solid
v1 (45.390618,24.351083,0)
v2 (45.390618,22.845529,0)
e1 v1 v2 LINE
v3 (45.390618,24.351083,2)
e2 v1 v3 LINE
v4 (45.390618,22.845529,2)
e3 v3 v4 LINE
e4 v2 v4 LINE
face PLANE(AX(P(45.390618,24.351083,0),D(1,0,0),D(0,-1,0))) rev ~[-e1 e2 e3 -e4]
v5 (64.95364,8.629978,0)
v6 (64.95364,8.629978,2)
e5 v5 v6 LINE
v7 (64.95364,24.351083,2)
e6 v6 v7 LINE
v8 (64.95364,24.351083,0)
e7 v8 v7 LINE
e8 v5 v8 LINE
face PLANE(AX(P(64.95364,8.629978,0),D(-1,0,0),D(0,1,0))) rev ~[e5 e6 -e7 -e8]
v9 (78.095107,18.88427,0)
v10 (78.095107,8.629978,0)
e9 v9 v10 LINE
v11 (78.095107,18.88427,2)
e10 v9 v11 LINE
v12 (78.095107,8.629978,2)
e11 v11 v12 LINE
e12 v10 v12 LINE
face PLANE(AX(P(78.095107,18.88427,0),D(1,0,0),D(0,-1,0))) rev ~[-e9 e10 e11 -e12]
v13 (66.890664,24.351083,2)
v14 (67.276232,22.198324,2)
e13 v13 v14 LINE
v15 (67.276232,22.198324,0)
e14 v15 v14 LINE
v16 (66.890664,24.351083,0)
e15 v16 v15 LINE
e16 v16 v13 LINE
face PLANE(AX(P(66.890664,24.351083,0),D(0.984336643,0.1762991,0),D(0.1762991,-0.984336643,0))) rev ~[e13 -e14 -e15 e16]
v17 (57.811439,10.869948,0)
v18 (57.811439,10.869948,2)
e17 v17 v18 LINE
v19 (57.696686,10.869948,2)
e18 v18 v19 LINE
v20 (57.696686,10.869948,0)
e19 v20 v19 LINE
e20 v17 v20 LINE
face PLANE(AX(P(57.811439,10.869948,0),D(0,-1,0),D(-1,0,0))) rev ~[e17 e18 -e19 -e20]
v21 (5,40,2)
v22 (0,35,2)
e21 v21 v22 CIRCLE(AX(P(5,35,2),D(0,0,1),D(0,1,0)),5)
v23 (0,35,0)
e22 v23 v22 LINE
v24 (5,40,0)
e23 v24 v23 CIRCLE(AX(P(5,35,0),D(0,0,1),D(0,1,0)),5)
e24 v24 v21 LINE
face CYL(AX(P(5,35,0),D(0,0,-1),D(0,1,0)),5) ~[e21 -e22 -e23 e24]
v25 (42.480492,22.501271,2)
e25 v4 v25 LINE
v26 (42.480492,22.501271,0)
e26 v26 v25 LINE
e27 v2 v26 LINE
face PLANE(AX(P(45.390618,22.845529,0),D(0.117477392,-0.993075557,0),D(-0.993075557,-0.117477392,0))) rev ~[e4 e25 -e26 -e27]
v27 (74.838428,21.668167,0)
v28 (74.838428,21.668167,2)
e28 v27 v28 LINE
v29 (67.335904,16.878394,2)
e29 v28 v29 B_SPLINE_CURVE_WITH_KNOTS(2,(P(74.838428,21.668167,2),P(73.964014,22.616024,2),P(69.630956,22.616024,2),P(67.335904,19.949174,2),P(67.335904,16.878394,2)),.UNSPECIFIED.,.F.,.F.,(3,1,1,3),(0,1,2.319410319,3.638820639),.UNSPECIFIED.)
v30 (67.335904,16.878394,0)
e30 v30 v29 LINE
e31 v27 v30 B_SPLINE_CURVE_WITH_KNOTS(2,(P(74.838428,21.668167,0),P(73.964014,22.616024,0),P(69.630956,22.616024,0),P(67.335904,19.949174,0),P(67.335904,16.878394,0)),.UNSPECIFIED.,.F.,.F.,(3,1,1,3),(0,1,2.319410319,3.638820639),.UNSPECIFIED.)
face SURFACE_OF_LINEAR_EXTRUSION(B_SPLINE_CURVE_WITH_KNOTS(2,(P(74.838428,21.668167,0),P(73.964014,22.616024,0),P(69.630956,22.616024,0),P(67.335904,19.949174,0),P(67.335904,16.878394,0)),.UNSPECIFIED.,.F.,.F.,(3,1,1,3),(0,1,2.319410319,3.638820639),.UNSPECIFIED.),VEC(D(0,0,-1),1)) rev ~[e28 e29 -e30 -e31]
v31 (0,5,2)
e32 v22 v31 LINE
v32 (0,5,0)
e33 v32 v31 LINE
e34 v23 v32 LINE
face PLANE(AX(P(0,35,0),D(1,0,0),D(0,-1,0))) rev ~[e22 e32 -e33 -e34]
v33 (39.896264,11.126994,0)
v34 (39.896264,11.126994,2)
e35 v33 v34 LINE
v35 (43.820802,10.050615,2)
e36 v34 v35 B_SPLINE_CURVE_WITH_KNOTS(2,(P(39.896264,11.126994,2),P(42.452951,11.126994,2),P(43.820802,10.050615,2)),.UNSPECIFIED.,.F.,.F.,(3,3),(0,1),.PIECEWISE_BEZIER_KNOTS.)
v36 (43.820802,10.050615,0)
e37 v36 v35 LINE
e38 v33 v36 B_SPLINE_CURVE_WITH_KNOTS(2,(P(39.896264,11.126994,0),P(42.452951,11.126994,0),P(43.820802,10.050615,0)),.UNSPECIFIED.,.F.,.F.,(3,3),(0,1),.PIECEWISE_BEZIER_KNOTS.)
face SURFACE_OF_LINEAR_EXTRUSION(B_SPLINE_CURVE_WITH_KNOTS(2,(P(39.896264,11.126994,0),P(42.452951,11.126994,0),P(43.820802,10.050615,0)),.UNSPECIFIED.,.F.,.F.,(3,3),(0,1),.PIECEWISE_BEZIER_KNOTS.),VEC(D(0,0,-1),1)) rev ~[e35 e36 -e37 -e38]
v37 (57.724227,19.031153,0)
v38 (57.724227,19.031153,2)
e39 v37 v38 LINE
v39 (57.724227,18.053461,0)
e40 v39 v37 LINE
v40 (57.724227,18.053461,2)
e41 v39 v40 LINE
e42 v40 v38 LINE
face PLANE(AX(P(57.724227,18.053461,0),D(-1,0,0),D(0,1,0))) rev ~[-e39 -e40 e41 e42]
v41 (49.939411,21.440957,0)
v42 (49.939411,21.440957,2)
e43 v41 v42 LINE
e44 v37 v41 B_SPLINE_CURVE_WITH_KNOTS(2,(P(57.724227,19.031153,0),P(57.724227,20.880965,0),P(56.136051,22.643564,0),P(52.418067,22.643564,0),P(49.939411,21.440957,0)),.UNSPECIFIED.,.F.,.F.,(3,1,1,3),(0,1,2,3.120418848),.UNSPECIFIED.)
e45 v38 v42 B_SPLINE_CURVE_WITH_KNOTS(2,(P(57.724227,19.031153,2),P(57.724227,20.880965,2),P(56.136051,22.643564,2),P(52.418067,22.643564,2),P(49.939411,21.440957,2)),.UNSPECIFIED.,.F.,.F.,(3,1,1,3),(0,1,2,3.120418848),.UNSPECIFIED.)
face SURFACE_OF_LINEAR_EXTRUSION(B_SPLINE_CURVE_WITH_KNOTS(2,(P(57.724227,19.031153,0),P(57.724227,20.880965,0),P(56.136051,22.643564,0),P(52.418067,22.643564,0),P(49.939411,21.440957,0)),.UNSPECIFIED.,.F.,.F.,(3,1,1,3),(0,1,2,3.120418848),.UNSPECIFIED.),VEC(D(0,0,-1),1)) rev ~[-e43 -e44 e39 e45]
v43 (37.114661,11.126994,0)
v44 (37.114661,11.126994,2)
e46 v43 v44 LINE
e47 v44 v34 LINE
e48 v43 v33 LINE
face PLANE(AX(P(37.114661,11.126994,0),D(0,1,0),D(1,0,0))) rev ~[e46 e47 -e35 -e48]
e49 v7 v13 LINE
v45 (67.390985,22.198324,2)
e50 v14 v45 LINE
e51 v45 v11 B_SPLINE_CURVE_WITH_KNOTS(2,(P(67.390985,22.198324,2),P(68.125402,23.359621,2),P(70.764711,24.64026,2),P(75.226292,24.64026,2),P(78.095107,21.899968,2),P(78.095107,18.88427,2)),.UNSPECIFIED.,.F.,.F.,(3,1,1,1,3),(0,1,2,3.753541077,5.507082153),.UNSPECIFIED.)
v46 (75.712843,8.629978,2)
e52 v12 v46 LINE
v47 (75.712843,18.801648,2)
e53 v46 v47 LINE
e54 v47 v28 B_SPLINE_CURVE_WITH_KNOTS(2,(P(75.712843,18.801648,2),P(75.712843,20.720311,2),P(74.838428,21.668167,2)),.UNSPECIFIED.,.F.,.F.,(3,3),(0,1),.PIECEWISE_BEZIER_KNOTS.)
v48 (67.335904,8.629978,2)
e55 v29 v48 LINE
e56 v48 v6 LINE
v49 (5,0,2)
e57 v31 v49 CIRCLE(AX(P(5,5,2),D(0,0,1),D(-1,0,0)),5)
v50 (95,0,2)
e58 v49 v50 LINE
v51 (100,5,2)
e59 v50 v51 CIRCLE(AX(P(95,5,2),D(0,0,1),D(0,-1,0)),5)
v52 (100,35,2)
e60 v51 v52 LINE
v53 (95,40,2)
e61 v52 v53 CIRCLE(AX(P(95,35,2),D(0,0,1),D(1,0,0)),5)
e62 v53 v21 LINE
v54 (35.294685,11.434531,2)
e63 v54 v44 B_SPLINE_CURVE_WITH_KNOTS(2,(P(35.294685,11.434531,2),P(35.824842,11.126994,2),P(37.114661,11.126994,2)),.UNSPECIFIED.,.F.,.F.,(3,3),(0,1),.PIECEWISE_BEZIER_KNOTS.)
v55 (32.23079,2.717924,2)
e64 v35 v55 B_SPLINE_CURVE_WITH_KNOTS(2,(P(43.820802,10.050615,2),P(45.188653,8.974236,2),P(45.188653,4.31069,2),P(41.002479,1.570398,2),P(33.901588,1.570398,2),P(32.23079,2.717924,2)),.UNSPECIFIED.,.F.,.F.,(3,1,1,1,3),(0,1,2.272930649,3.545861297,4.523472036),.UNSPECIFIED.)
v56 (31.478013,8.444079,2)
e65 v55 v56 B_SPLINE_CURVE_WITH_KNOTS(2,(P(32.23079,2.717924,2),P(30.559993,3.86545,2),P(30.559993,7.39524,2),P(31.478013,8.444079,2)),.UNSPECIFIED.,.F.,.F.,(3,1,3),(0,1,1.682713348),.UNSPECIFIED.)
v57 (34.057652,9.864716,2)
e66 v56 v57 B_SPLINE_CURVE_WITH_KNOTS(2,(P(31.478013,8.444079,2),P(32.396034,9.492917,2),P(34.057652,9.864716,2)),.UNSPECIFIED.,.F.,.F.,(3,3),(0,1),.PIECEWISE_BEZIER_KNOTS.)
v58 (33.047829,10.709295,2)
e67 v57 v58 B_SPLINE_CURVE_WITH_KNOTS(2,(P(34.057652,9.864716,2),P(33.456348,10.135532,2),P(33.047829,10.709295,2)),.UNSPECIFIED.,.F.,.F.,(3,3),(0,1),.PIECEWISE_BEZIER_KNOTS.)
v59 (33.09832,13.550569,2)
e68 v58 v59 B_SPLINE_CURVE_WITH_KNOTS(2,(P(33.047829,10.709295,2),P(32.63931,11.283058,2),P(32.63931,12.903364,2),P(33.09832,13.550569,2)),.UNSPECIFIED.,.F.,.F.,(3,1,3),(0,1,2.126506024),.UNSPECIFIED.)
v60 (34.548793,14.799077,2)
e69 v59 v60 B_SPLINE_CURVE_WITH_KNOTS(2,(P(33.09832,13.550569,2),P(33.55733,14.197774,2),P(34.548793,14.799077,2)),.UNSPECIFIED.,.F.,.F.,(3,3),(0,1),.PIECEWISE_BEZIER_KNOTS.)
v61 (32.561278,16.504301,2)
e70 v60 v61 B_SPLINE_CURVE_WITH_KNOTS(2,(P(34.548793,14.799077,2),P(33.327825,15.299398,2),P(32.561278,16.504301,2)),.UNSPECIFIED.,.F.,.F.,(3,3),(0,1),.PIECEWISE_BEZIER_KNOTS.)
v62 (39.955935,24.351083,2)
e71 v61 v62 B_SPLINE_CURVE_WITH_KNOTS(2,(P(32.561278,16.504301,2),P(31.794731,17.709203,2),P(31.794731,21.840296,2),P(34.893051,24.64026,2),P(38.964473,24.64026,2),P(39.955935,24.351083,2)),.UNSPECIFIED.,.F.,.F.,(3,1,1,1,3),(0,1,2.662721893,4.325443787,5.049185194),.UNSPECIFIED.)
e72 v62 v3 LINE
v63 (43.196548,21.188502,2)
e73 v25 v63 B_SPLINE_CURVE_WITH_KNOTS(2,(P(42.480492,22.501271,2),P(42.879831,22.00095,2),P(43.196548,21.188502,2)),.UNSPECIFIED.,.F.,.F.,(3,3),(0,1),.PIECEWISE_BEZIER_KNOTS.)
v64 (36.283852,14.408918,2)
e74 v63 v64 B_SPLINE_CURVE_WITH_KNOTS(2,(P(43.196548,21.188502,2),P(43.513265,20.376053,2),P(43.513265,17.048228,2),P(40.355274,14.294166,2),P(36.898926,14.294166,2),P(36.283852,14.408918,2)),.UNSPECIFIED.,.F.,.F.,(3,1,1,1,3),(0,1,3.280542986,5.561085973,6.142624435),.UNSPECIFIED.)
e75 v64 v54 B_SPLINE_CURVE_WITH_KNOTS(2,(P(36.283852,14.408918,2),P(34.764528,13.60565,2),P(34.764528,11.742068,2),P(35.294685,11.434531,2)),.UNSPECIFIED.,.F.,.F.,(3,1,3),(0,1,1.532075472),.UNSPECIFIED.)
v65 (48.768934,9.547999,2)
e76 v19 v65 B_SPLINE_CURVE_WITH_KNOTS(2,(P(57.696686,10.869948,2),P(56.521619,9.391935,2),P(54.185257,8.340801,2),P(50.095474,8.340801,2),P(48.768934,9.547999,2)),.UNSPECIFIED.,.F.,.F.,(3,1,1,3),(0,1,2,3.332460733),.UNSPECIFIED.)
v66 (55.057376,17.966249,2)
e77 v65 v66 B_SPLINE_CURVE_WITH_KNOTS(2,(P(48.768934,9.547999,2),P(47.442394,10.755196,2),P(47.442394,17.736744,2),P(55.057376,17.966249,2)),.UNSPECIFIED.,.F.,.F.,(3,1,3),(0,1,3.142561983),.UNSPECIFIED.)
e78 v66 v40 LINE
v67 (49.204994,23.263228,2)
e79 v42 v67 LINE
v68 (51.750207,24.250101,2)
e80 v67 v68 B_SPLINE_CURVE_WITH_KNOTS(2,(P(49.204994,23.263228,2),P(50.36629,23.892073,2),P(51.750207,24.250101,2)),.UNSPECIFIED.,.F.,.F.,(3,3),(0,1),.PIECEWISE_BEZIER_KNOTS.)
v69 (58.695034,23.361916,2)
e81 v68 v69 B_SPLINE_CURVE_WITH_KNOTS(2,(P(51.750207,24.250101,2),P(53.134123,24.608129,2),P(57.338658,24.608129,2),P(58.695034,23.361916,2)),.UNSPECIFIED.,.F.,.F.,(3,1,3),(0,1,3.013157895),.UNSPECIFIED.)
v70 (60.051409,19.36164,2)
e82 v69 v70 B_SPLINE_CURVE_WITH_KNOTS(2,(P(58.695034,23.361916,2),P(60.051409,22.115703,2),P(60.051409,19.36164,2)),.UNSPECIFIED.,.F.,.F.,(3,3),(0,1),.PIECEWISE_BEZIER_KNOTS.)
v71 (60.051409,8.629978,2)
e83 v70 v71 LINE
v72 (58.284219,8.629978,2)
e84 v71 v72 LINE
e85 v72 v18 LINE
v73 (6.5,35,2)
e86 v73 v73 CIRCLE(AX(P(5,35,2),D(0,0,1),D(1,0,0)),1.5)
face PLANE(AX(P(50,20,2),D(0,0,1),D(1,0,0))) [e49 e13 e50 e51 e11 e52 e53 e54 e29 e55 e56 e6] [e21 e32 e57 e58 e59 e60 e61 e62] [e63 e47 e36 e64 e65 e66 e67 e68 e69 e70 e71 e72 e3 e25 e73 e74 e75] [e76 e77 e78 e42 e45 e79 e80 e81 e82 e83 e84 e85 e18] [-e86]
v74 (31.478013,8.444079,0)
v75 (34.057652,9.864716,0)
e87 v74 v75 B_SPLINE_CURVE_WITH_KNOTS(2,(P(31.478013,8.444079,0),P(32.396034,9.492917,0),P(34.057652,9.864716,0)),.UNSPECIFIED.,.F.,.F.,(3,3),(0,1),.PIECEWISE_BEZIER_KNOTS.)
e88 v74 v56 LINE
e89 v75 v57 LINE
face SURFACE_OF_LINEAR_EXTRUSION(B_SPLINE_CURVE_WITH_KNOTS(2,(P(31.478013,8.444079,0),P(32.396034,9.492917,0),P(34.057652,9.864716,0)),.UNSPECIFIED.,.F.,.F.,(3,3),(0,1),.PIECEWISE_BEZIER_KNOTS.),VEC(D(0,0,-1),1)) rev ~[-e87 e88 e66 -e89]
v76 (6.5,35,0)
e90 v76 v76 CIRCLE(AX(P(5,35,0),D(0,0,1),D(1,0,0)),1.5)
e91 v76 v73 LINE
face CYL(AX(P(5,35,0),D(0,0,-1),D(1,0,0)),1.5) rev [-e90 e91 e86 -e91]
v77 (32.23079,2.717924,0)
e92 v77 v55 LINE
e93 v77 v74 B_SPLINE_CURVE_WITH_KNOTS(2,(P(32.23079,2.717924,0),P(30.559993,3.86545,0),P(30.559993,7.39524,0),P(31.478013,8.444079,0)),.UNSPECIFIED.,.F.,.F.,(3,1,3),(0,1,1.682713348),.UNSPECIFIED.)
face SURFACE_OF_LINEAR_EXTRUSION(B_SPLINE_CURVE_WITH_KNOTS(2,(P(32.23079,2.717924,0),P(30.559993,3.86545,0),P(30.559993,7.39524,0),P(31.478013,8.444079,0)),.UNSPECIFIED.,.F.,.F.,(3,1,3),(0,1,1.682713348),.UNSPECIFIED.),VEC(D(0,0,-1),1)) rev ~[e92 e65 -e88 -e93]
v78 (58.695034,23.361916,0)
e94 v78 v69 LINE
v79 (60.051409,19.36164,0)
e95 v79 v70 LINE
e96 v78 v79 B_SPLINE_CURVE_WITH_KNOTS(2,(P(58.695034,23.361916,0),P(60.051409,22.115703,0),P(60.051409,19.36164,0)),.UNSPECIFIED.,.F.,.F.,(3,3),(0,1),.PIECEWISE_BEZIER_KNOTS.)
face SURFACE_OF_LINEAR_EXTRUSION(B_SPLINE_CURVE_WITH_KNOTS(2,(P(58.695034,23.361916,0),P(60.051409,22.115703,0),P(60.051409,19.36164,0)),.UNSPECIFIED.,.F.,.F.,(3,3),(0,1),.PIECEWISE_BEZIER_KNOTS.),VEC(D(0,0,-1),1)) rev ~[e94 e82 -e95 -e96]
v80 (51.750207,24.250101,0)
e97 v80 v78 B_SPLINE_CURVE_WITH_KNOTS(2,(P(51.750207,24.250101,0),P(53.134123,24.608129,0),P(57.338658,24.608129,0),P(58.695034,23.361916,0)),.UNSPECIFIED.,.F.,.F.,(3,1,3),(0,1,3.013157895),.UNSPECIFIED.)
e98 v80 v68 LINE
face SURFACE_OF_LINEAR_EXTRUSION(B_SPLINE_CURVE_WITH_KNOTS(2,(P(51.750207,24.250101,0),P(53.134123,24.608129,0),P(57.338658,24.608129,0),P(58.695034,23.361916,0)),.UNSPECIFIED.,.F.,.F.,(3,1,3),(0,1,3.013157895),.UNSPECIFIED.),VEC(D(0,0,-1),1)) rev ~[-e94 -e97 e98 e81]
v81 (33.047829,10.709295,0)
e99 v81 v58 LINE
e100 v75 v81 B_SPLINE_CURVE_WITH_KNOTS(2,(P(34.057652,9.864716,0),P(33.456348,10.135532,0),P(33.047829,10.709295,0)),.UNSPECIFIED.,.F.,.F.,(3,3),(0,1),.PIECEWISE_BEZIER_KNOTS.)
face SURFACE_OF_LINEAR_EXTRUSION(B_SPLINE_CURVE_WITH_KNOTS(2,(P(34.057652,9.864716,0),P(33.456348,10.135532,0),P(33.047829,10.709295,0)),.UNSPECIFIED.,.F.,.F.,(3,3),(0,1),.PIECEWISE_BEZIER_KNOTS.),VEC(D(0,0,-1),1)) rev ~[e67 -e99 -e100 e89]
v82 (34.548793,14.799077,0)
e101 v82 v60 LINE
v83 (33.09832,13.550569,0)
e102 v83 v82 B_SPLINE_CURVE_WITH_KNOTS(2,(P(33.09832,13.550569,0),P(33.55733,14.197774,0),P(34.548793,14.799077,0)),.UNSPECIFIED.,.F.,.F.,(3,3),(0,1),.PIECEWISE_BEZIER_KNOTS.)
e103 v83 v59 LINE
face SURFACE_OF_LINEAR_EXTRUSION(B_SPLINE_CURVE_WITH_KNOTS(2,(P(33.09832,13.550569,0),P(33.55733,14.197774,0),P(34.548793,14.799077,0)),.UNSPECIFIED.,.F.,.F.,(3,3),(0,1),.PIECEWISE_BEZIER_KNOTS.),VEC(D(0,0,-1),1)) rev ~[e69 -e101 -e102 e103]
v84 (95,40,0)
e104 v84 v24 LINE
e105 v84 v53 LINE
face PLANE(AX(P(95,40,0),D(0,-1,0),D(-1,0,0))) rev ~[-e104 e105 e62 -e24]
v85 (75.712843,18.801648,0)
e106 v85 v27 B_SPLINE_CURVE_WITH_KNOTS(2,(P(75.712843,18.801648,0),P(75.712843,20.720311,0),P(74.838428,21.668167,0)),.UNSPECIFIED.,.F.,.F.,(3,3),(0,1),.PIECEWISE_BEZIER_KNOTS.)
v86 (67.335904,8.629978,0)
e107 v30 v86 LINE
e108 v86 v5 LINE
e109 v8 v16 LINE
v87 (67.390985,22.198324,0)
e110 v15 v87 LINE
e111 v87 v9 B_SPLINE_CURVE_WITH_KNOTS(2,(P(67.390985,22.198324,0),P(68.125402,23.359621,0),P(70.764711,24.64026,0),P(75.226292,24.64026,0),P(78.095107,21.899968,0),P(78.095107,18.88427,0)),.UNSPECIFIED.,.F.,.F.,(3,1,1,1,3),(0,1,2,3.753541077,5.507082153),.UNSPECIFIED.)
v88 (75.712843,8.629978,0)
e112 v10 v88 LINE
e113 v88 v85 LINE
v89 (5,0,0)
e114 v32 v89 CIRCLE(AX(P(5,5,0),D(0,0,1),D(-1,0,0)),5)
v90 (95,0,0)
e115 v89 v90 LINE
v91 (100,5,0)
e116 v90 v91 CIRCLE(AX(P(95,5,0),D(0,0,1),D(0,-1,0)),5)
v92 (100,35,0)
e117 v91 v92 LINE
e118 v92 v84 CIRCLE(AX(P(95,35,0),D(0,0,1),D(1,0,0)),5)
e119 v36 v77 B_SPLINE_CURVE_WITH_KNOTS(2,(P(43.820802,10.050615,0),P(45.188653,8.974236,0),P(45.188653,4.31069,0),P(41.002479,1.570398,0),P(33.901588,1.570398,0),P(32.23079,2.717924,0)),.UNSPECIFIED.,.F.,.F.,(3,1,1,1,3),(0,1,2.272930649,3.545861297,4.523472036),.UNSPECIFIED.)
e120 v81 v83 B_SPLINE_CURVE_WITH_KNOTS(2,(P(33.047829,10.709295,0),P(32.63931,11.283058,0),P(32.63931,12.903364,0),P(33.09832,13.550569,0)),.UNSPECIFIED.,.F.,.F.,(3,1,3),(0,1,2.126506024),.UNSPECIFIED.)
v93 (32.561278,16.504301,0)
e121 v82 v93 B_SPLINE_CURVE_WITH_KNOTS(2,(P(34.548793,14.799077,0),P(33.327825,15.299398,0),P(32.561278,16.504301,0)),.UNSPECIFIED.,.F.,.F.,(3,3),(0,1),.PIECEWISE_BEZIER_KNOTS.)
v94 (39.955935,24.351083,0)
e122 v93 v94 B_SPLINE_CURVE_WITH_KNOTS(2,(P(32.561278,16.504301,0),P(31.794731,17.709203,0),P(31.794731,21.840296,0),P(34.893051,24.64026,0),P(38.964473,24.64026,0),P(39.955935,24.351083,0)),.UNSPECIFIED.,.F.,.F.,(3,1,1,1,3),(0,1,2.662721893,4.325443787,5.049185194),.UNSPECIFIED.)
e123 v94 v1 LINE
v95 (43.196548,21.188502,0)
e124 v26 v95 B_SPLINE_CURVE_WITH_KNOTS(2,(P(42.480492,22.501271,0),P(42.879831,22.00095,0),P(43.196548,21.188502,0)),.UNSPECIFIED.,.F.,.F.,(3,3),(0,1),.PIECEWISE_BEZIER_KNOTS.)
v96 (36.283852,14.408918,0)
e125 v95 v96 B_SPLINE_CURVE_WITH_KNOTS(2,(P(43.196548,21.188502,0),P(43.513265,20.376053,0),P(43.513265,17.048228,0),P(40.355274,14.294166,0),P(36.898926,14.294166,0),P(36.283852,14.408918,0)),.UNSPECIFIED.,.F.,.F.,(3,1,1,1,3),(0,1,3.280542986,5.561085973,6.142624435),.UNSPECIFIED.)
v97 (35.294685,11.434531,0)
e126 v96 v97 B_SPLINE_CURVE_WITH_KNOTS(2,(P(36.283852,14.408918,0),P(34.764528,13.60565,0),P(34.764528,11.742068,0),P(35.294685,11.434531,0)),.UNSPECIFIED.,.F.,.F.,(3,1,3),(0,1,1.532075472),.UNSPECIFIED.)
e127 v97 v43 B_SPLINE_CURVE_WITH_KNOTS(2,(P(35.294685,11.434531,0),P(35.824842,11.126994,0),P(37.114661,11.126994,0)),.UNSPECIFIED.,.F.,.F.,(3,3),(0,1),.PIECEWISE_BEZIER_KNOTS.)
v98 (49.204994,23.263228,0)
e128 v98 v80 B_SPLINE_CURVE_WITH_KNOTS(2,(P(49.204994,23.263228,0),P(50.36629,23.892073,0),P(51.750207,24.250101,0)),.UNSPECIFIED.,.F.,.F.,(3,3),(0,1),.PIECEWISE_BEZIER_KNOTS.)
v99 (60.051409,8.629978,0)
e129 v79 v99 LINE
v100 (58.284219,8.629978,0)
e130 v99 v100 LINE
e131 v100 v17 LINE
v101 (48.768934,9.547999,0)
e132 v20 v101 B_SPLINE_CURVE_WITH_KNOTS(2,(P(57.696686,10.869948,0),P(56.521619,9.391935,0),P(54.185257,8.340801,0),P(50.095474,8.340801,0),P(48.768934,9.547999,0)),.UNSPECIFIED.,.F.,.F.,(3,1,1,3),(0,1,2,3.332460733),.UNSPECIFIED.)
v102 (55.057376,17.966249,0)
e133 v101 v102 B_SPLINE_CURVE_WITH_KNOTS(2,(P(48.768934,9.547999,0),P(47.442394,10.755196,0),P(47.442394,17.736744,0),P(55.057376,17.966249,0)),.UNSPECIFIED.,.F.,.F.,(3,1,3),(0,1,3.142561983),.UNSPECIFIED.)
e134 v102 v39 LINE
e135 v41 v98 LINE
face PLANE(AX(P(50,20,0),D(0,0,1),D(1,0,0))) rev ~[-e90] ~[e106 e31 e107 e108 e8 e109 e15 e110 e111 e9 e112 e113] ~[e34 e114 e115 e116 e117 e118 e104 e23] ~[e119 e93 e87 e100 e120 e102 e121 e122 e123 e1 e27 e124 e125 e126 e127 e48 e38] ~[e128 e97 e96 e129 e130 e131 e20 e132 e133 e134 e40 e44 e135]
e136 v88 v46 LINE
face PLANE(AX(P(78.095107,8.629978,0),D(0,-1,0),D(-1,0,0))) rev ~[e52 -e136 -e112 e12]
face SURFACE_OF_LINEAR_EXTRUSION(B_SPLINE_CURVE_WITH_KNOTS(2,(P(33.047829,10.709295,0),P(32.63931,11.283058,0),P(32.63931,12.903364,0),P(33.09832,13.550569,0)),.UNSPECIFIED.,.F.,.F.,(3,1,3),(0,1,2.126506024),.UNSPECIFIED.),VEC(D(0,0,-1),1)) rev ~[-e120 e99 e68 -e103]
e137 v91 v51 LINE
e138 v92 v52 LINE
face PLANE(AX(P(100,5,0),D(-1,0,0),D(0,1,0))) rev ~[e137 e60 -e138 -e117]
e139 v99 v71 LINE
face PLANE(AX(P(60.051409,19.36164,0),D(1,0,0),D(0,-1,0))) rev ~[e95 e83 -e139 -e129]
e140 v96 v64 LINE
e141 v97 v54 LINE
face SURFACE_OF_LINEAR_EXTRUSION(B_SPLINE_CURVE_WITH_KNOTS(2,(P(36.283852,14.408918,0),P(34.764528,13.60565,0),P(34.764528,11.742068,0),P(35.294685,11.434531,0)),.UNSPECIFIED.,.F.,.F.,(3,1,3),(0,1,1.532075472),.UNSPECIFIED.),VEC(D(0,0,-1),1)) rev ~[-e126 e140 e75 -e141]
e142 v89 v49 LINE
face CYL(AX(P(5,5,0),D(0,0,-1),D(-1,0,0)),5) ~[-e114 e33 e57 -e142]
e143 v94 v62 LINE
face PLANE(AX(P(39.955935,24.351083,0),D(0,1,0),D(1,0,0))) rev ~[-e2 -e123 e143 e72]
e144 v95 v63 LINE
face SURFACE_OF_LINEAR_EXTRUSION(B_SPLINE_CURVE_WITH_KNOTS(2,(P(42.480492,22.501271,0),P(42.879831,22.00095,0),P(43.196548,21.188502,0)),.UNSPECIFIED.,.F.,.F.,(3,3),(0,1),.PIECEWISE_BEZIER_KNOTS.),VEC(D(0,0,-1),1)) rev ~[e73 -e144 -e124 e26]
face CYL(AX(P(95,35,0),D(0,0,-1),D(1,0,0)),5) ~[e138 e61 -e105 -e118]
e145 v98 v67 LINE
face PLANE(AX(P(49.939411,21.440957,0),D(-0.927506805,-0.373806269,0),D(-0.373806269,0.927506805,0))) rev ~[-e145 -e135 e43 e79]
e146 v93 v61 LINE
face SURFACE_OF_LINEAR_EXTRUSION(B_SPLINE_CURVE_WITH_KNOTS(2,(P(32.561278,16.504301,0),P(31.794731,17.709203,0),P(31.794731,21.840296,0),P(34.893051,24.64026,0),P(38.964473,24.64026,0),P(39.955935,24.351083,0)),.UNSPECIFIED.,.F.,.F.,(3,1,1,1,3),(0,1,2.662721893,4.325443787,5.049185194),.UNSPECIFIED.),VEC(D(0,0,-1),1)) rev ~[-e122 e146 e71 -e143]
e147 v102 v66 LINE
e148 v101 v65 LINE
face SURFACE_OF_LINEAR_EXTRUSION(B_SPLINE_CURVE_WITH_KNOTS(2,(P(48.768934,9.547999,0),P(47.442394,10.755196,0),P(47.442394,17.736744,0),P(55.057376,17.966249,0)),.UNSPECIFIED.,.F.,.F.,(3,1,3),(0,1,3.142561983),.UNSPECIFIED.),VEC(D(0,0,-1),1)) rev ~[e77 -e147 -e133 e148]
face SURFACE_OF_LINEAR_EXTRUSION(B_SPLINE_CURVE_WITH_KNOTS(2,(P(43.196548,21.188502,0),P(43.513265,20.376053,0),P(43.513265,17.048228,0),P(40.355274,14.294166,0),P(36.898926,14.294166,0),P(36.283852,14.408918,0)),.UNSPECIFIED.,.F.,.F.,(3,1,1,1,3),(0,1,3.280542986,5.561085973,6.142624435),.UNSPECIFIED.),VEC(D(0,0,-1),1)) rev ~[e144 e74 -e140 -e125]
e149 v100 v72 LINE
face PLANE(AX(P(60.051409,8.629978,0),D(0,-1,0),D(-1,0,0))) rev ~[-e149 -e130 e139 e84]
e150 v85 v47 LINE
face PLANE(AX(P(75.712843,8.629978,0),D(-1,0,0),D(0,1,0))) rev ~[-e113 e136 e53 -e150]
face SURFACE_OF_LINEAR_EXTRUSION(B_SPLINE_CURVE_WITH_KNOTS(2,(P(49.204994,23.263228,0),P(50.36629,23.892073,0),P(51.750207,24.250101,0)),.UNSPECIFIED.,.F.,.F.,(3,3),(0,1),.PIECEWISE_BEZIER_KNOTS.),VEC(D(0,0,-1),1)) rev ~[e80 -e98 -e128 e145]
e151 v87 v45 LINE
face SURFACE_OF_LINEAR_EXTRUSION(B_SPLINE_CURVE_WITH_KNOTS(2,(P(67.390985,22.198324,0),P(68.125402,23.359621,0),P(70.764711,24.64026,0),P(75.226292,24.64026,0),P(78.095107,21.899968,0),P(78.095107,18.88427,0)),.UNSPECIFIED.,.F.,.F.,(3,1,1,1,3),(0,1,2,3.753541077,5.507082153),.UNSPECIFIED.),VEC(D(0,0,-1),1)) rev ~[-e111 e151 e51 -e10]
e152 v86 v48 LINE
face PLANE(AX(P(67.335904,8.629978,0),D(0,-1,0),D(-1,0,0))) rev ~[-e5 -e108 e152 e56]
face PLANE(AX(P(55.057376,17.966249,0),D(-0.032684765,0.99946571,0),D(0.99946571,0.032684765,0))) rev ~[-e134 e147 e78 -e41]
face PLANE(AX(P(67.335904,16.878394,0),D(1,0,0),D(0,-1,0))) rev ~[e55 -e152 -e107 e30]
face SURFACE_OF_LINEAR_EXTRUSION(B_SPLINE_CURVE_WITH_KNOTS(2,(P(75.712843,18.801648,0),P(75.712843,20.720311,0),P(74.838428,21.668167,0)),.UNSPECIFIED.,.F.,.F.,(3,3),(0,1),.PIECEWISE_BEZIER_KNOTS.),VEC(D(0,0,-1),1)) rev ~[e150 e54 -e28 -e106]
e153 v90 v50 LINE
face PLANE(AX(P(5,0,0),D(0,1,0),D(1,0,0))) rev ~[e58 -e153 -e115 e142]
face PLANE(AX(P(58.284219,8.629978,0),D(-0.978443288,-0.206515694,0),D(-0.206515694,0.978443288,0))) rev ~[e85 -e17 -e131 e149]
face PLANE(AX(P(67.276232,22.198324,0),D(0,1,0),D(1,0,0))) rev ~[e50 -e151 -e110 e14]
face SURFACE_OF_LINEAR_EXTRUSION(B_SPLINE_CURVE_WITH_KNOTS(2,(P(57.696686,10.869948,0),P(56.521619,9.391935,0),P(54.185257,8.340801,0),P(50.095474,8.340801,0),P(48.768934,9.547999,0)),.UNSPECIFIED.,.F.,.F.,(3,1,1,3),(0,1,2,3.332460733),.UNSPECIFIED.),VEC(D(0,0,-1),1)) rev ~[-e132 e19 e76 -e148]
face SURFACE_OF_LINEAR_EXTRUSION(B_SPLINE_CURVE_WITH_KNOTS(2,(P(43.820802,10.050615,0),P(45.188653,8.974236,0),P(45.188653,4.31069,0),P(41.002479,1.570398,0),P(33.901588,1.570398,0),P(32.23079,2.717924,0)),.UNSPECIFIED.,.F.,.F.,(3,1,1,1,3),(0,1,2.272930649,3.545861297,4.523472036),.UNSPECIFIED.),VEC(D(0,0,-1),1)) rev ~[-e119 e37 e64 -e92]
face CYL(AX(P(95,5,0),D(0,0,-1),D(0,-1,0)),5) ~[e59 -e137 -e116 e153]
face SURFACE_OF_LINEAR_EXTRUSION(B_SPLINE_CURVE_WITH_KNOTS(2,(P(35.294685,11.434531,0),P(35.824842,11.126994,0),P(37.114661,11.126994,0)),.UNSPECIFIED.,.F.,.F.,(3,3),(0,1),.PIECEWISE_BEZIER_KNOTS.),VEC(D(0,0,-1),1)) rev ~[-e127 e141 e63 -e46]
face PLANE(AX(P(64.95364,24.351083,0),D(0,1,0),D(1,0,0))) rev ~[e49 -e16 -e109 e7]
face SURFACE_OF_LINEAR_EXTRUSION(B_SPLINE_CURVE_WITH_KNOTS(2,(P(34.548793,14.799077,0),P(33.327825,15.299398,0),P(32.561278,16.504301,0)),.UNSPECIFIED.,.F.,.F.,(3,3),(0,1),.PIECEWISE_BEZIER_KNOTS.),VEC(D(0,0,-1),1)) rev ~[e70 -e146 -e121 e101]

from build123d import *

# Parameters (mm, degrees)
F0_R     = 1.5
F1_DEPTH = 2


with BuildPart() as f1:
    # F0 (on Top) → F1 (new body)
    with BuildSketch(Plane.XY):
        with BuildLine():
            Line((95, 40), (5, 40))
            ThreePointArc((5, 40), (1.4644660941, 38.5355339059), (0, 35))
            Line((0, 35), (0, 5))
            ThreePointArc((0, 5), (1.4644660941, 1.4644660941), (5, 0))
            Line((5, 0), (95, 0))
            ThreePointArc((95, 0), (98.5355339059, 1.4644660941), (100, 5))
            Line((100, 5), (100, 35))
            ThreePointArc((100, 35), (98.5355339059, 38.5355339059), (95, 40))
        make_face()
        with BuildLine():
            Line((39.9559350041, 24.3510830572), (45.390617828, 24.3510830572))
            Line((45.390617828, 24.3510830572), (45.390617828, 22.8455290317))
            Line((45.390617828, 22.8455290317), (42.4804920591, 22.5012712515))
            add(Edge.make_bspline(
                [(42.4804920591, 22.5012712515), (42.8798310842, 22.0009499442), (43.196548242, 21.1885015829)],
                knots=[0, 0, 0, 1, 1, 1], degree=2))
            add(Edge.make_bspline(
                [(43.196548242, 21.1885015829), (43.5132653998, 20.3760532215), (43.5132653998, 19.3616402958)],
                knots=[0, 0, 0, 1, 1, 1], degree=2))
            add(Edge.make_bspline(
                [(43.5132653998, 19.3616402958), (43.5132653998, 17.0482280127), (41.9342697145, 15.6711968918)],
                knots=[0, 0, 0, 1, 1, 1], degree=2))
            add(Edge.make_bspline(
                [(41.9342697145, 15.6711968918), (40.3552740292, 14.2941657709), (37.6012117874, 14.2941657709)],
                knots=[0, 0, 0, 1, 1, 1], degree=2))
            add(Edge.make_bspline(
                [(37.6012117874, 14.2941657709), (36.8989259157, 14.2941657709), (36.2838520151, 14.4089183643)],
                knots=[0, 0, 0, 1, 1, 1], degree=2))
            add(Edge.make_bspline(
                [(36.2838520151, 14.4089183643), (34.7645276783, 13.6056502104), (34.7645276783, 12.3892727203)],
                knots=[0, 0, 0, 1, 1, 1], degree=2))
            add(Edge.make_bspline(
                [(34.7645276783, 12.3892727203), (34.7645276783, 11.7420680935), (35.2946846599, 11.4345311431)],
                knots=[0, 0, 0, 1, 1, 1], degree=2))
            add(Edge.make_bspline(
                [(35.2946846599, 11.4345311431), (35.8248416414, 11.1269941928), (37.1146607913, 11.1269941928)],
                knots=[0, 0, 0, 1, 1, 1], degree=2))
            Line((37.1146607913, 11.1269941928), (39.8962636556, 11.1269941928))
            add(Edge.make_bspline(
                [(39.8962636556, 11.1269941928), (42.4529514367, 11.1269941928), (43.8208023501, 10.0506148666)],
                knots=[0, 0, 0, 1, 1, 1], degree=2))
            add(Edge.make_bspline(
                [(43.8208023501, 10.0506148666), (45.1886532636, 8.9742355405), (45.1886532636, 6.9224591703)],
                knots=[0, 0, 0, 1, 1, 1], degree=2))
            add(Edge.make_bspline(
                [(45.1886532636, 6.9224591703), (45.1886532636, 4.3106901443), (43.0955659598, 2.940544179)],
                knots=[0, 0, 0, 1, 1, 1], degree=2))
            add(Edge.make_bspline(
                [(43.0955659598, 2.940544179), (41.002478656, 1.5703982137), (36.9861378867, 1.5703982137)],
                knots=[0, 0, 0, 1, 1, 1], degree=2))
            add(Edge.make_bspline(
                [(36.9861378867, 1.5703982137), (33.9015881759, 1.5703982137), (32.2307904159, 2.7179241478)],
                knots=[0, 0, 0, 1, 1, 1], degree=2))
            add(Edge.make_bspline(
                [(32.2307904159, 2.7179241478), (30.5599926558, 3.8654500819), (30.5599926558, 5.9631274894)],
                knots=[0, 0, 0, 1, 1, 1], degree=2))
            add(Edge.make_bspline(
                [(30.5599926558, 5.9631274894), (30.5599926558, 7.3952398552), (31.4780134031, 8.4440785589)],
                knots=[0, 0, 0, 1, 1, 1], degree=2))
            add(Edge.make_bspline(
                [(31.4780134031, 8.4440785589), (32.3960341504, 9.4929172627), (34.0576517029, 9.8647156653)],
                knots=[0, 0, 0, 1, 1, 1], degree=2))
            add(Edge.make_bspline(
                [(34.0576517029, 9.8647156653), (33.4563481135, 10.1355317858), (33.0478288809, 10.7092947528)],
                knots=[0, 0, 0, 1, 1, 1], degree=2))
            add(Edge.make_bspline(
                [(33.0478288809, 10.7092947528), (32.6393096484, 11.2830577198), (32.6393096484, 12.0450149401)],
                knots=[0, 0, 0, 1, 1, 1], degree=2))
            add(Edge.make_bspline(
                [(32.6393096484, 12.0450149401), (32.6393096484, 12.9033643388), (33.098320022, 13.5505689656)],
                knots=[0, 0, 0, 1, 1, 1], degree=2))
            add(Edge.make_bspline(
                [(33.098320022, 13.5505689656), (33.5573303957, 14.1977735924), (34.5487928027, 14.7990771819)],
                knots=[0, 0, 0, 1, 1, 1], degree=2))
            add(Edge.make_bspline(
                [(34.5487928027, 14.7990771819), (33.3278252088, 15.2993984891), (32.5612778849, 16.5043007199)],
                knots=[0, 0, 0, 1, 1, 1], degree=2))
            add(Edge.make_bspline(
                [(32.5612778849, 16.5043007199), (31.7947305609, 17.7092029507), (31.7947305609, 19.2606580136)],
                knots=[0, 0, 0, 1, 1, 1], degree=2))
            add(Edge.make_bspline(
                [(31.7947305609, 19.2606580136), (31.7947305609, 21.8402963134), (33.3438905719, 23.240277953)],
                knots=[0, 0, 0, 1, 1, 1], degree=2))
            add(Edge.make_bspline(
                [(33.3438905719, 23.240277953), (34.8930505829, 24.6402595926), (37.729734692, 24.6402595926)],
                knots=[0, 0, 0, 1, 1, 1], degree=2))
            add(Edge.make_bspline(
                [(37.729734692, 24.6402595926), (38.9644725971, 24.6402595926), (39.9559350041, 24.3510830572)],
                knots=[0, 0, 0, 1, 1, 1], degree=2))
        make_face(mode=Mode.SUBTRACT)
        with BuildLine():
            Line((60.0514091618, 8.6299777602), (58.2842192234, 8.6299777602))
            Line((58.2842192234, 8.6299777602), (57.8114385385, 10.8699483836))
            Line((57.8114385385, 10.8699483836), (57.6966859451, 10.8699483836))
            add(Edge.make_bspline(
                [(57.6966859451, 10.8699483836), (56.5216193886, 9.3919349805), (55.3534379877, 8.8663681027)],
                knots=[0, 0, 0, 1, 1, 1], degree=2))
            add(Edge.make_bspline(
                [(55.3534379877, 8.8663681027), (54.1852565868, 8.3408012249), (52.4318369595, 8.3408012249)],
                knots=[0, 0, 0, 1, 1, 1], degree=2))
            add(Edge.make_bspline(
                [(52.4318369595, 8.3408012249), (50.0954741577, 8.3408012249), (48.7689341779, 9.5479985075)],
                knots=[0, 0, 0, 1, 1, 1], degree=2))
            add(Edge.make_bspline(
                [(48.7689341779, 9.5479985075), (47.4423941981, 10.7551957902), (47.4423941981, 12.9768059986)],
                knots=[0, 0, 0, 1, 1, 1], degree=2))
            add(Edge.make_bspline(
                [(47.4423941981, 12.9768059986), (47.4423941981, 17.7367435731), (55.0573762967, 17.96624876)],
                knots=[0, 0, 0, 1, 1, 1], degree=2))
            Line((55.0573762967, 17.96624876), (57.7242265675, 18.053460731))
            Line((57.7242265675, 18.053460731), (57.7242265675, 19.0311528268))
            add(Edge.make_bspline(
                [(57.7242265675, 19.0311528268), (57.7242265675, 20.8809646325), (56.9301386211, 21.7622645499)],
                knots=[0, 0, 0, 1, 1, 1], degree=2))
            add(Edge.make_bspline(
                [(56.9301386211, 21.7622645499), (56.1360506747, 22.6435644673), (54.3826310475, 22.6435644673)],
                knots=[0, 0, 0, 1, 1, 1], degree=2))
            add(Edge.make_bspline(
                [(54.3826310475, 22.6435644673), (52.4180666483, 22.6435644673), (49.9394106307, 21.4409572884)],
                knots=[0, 0, 0, 1, 1, 1], degree=2))
            Line((49.9394106307, 21.4409572884), (49.2049940329, 23.2632284717))
            add(Edge.make_bspline(
                [(49.2049940329, 23.2632284717), (50.3662902782, 23.8920726836), (51.7502065547, 24.250100775)],
                knots=[0, 0, 0, 1, 1, 1], degree=2))
            add(Edge.make_bspline(
                [(51.7502065547, 24.250100775), (53.1341228312, 24.6081288665), (54.529514367, 24.6081288665)],
                knots=[0, 0, 0, 1, 1, 1], degree=2))
            add(Edge.make_bspline(
                [(54.529514367, 24.6081288665), (57.3386578537, 24.6081288665), (58.6950335078, 23.361915702)],
                knots=[0, 0, 0, 1, 1, 1], degree=2))
            add(Edge.make_bspline(
                [(58.6950335078, 23.361915702), (60.0514091618, 22.1157025376), (60.0514091618, 19.3616402958)],
                knots=[0, 0, 0, 1, 1, 1], degree=2))
            Line((60.0514091618, 19.3616402958), (60.0514091618, 8.6299777602))
        make_face(mode=Mode.SUBTRACT)
        with BuildLine():
            Line((78.0951069494, 8.6299777602), (75.7128431103, 8.6299777602))
            Line((75.7128431103, 8.6299777602), (75.7128431103, 18.80164764))
            add(Edge.make_bspline(
                [(75.7128431103, 18.80164764), (75.7128431103, 20.7203110018), (74.8384283485, 21.6681674233)],
                knots=[0, 0, 0, 1, 1, 1], degree=2))
            add(Edge.make_bspline(
                [(74.8384283485, 21.6681674233), (73.9640135867, 22.6160238449), (72.095841366, 22.6160238449)],
                knots=[0, 0, 0, 1, 1, 1], degree=2))
            add(Edge.make_bspline(
                [(72.095841366, 22.6160238449), (69.6309556596, 22.6160238449), (68.4834297255, 21.2825987095)],
                knots=[0, 0, 0, 1, 1, 1], degree=2))
            add(Edge.make_bspline(
                [(68.4834297255, 21.2825987095), (67.3359037914, 19.9491735741), (67.3359037914, 16.8783941745)],
                knots=[0, 0, 0, 1, 1, 1], degree=2))
            Line((67.3359037914, 16.8783941745), (67.3359037914, 8.6299777602))
            Line((67.3359037914, 8.6299777602), (64.9536399523, 8.6299777602))
            Line((64.9536399523, 8.6299777602), (64.9536399523, 24.3510830572))
            Line((64.9536399523, 24.3510830572), (66.890663729, 24.3510830572))
            Line((66.890663729, 24.3510830572), (67.2762324429, 22.1983244049))
            Line((67.2762324429, 22.1983244049), (67.3909850363, 22.1983244049))
            add(Edge.make_bspline(
                [(67.3909850363, 22.1983244049), (68.1254016341, 23.3596206502), (69.4450564583, 23.9999401214)],
                knots=[0, 0, 0, 1, 1, 1], degree=2))
            add(Edge.make_bspline(
                [(69.4450564583, 23.9999401214), (70.7647112825, 24.6402595926), (72.3850179014, 24.6402595926)],
                knots=[0, 0, 0, 1, 1, 1], degree=2))
            add(Edge.make_bspline(
                [(72.3850179014, 24.6402595926), (75.2262921142, 24.6402595926), (76.6606995318, 23.2701136273)],
                knots=[0, 0, 0, 1, 1, 1], degree=2))
            add(Edge.make_bspline(
                [(76.6606995318, 23.2701136273), (78.0951069494, 21.899967662), (78.0951069494, 18.8842695072)],
                knots=[0, 0, 0, 1, 1, 1], degree=2))
            Line((78.0951069494, 18.8842695072), (78.0951069494, 8.6299777602))
        make_face(mode=Mode.SUBTRACT)
        with Locations((5, 35)):
            Circle(F0_R, mode=Mode.SUBTRACT)
    extrude(amount=F1_DEPTH)


solid = f1.part
